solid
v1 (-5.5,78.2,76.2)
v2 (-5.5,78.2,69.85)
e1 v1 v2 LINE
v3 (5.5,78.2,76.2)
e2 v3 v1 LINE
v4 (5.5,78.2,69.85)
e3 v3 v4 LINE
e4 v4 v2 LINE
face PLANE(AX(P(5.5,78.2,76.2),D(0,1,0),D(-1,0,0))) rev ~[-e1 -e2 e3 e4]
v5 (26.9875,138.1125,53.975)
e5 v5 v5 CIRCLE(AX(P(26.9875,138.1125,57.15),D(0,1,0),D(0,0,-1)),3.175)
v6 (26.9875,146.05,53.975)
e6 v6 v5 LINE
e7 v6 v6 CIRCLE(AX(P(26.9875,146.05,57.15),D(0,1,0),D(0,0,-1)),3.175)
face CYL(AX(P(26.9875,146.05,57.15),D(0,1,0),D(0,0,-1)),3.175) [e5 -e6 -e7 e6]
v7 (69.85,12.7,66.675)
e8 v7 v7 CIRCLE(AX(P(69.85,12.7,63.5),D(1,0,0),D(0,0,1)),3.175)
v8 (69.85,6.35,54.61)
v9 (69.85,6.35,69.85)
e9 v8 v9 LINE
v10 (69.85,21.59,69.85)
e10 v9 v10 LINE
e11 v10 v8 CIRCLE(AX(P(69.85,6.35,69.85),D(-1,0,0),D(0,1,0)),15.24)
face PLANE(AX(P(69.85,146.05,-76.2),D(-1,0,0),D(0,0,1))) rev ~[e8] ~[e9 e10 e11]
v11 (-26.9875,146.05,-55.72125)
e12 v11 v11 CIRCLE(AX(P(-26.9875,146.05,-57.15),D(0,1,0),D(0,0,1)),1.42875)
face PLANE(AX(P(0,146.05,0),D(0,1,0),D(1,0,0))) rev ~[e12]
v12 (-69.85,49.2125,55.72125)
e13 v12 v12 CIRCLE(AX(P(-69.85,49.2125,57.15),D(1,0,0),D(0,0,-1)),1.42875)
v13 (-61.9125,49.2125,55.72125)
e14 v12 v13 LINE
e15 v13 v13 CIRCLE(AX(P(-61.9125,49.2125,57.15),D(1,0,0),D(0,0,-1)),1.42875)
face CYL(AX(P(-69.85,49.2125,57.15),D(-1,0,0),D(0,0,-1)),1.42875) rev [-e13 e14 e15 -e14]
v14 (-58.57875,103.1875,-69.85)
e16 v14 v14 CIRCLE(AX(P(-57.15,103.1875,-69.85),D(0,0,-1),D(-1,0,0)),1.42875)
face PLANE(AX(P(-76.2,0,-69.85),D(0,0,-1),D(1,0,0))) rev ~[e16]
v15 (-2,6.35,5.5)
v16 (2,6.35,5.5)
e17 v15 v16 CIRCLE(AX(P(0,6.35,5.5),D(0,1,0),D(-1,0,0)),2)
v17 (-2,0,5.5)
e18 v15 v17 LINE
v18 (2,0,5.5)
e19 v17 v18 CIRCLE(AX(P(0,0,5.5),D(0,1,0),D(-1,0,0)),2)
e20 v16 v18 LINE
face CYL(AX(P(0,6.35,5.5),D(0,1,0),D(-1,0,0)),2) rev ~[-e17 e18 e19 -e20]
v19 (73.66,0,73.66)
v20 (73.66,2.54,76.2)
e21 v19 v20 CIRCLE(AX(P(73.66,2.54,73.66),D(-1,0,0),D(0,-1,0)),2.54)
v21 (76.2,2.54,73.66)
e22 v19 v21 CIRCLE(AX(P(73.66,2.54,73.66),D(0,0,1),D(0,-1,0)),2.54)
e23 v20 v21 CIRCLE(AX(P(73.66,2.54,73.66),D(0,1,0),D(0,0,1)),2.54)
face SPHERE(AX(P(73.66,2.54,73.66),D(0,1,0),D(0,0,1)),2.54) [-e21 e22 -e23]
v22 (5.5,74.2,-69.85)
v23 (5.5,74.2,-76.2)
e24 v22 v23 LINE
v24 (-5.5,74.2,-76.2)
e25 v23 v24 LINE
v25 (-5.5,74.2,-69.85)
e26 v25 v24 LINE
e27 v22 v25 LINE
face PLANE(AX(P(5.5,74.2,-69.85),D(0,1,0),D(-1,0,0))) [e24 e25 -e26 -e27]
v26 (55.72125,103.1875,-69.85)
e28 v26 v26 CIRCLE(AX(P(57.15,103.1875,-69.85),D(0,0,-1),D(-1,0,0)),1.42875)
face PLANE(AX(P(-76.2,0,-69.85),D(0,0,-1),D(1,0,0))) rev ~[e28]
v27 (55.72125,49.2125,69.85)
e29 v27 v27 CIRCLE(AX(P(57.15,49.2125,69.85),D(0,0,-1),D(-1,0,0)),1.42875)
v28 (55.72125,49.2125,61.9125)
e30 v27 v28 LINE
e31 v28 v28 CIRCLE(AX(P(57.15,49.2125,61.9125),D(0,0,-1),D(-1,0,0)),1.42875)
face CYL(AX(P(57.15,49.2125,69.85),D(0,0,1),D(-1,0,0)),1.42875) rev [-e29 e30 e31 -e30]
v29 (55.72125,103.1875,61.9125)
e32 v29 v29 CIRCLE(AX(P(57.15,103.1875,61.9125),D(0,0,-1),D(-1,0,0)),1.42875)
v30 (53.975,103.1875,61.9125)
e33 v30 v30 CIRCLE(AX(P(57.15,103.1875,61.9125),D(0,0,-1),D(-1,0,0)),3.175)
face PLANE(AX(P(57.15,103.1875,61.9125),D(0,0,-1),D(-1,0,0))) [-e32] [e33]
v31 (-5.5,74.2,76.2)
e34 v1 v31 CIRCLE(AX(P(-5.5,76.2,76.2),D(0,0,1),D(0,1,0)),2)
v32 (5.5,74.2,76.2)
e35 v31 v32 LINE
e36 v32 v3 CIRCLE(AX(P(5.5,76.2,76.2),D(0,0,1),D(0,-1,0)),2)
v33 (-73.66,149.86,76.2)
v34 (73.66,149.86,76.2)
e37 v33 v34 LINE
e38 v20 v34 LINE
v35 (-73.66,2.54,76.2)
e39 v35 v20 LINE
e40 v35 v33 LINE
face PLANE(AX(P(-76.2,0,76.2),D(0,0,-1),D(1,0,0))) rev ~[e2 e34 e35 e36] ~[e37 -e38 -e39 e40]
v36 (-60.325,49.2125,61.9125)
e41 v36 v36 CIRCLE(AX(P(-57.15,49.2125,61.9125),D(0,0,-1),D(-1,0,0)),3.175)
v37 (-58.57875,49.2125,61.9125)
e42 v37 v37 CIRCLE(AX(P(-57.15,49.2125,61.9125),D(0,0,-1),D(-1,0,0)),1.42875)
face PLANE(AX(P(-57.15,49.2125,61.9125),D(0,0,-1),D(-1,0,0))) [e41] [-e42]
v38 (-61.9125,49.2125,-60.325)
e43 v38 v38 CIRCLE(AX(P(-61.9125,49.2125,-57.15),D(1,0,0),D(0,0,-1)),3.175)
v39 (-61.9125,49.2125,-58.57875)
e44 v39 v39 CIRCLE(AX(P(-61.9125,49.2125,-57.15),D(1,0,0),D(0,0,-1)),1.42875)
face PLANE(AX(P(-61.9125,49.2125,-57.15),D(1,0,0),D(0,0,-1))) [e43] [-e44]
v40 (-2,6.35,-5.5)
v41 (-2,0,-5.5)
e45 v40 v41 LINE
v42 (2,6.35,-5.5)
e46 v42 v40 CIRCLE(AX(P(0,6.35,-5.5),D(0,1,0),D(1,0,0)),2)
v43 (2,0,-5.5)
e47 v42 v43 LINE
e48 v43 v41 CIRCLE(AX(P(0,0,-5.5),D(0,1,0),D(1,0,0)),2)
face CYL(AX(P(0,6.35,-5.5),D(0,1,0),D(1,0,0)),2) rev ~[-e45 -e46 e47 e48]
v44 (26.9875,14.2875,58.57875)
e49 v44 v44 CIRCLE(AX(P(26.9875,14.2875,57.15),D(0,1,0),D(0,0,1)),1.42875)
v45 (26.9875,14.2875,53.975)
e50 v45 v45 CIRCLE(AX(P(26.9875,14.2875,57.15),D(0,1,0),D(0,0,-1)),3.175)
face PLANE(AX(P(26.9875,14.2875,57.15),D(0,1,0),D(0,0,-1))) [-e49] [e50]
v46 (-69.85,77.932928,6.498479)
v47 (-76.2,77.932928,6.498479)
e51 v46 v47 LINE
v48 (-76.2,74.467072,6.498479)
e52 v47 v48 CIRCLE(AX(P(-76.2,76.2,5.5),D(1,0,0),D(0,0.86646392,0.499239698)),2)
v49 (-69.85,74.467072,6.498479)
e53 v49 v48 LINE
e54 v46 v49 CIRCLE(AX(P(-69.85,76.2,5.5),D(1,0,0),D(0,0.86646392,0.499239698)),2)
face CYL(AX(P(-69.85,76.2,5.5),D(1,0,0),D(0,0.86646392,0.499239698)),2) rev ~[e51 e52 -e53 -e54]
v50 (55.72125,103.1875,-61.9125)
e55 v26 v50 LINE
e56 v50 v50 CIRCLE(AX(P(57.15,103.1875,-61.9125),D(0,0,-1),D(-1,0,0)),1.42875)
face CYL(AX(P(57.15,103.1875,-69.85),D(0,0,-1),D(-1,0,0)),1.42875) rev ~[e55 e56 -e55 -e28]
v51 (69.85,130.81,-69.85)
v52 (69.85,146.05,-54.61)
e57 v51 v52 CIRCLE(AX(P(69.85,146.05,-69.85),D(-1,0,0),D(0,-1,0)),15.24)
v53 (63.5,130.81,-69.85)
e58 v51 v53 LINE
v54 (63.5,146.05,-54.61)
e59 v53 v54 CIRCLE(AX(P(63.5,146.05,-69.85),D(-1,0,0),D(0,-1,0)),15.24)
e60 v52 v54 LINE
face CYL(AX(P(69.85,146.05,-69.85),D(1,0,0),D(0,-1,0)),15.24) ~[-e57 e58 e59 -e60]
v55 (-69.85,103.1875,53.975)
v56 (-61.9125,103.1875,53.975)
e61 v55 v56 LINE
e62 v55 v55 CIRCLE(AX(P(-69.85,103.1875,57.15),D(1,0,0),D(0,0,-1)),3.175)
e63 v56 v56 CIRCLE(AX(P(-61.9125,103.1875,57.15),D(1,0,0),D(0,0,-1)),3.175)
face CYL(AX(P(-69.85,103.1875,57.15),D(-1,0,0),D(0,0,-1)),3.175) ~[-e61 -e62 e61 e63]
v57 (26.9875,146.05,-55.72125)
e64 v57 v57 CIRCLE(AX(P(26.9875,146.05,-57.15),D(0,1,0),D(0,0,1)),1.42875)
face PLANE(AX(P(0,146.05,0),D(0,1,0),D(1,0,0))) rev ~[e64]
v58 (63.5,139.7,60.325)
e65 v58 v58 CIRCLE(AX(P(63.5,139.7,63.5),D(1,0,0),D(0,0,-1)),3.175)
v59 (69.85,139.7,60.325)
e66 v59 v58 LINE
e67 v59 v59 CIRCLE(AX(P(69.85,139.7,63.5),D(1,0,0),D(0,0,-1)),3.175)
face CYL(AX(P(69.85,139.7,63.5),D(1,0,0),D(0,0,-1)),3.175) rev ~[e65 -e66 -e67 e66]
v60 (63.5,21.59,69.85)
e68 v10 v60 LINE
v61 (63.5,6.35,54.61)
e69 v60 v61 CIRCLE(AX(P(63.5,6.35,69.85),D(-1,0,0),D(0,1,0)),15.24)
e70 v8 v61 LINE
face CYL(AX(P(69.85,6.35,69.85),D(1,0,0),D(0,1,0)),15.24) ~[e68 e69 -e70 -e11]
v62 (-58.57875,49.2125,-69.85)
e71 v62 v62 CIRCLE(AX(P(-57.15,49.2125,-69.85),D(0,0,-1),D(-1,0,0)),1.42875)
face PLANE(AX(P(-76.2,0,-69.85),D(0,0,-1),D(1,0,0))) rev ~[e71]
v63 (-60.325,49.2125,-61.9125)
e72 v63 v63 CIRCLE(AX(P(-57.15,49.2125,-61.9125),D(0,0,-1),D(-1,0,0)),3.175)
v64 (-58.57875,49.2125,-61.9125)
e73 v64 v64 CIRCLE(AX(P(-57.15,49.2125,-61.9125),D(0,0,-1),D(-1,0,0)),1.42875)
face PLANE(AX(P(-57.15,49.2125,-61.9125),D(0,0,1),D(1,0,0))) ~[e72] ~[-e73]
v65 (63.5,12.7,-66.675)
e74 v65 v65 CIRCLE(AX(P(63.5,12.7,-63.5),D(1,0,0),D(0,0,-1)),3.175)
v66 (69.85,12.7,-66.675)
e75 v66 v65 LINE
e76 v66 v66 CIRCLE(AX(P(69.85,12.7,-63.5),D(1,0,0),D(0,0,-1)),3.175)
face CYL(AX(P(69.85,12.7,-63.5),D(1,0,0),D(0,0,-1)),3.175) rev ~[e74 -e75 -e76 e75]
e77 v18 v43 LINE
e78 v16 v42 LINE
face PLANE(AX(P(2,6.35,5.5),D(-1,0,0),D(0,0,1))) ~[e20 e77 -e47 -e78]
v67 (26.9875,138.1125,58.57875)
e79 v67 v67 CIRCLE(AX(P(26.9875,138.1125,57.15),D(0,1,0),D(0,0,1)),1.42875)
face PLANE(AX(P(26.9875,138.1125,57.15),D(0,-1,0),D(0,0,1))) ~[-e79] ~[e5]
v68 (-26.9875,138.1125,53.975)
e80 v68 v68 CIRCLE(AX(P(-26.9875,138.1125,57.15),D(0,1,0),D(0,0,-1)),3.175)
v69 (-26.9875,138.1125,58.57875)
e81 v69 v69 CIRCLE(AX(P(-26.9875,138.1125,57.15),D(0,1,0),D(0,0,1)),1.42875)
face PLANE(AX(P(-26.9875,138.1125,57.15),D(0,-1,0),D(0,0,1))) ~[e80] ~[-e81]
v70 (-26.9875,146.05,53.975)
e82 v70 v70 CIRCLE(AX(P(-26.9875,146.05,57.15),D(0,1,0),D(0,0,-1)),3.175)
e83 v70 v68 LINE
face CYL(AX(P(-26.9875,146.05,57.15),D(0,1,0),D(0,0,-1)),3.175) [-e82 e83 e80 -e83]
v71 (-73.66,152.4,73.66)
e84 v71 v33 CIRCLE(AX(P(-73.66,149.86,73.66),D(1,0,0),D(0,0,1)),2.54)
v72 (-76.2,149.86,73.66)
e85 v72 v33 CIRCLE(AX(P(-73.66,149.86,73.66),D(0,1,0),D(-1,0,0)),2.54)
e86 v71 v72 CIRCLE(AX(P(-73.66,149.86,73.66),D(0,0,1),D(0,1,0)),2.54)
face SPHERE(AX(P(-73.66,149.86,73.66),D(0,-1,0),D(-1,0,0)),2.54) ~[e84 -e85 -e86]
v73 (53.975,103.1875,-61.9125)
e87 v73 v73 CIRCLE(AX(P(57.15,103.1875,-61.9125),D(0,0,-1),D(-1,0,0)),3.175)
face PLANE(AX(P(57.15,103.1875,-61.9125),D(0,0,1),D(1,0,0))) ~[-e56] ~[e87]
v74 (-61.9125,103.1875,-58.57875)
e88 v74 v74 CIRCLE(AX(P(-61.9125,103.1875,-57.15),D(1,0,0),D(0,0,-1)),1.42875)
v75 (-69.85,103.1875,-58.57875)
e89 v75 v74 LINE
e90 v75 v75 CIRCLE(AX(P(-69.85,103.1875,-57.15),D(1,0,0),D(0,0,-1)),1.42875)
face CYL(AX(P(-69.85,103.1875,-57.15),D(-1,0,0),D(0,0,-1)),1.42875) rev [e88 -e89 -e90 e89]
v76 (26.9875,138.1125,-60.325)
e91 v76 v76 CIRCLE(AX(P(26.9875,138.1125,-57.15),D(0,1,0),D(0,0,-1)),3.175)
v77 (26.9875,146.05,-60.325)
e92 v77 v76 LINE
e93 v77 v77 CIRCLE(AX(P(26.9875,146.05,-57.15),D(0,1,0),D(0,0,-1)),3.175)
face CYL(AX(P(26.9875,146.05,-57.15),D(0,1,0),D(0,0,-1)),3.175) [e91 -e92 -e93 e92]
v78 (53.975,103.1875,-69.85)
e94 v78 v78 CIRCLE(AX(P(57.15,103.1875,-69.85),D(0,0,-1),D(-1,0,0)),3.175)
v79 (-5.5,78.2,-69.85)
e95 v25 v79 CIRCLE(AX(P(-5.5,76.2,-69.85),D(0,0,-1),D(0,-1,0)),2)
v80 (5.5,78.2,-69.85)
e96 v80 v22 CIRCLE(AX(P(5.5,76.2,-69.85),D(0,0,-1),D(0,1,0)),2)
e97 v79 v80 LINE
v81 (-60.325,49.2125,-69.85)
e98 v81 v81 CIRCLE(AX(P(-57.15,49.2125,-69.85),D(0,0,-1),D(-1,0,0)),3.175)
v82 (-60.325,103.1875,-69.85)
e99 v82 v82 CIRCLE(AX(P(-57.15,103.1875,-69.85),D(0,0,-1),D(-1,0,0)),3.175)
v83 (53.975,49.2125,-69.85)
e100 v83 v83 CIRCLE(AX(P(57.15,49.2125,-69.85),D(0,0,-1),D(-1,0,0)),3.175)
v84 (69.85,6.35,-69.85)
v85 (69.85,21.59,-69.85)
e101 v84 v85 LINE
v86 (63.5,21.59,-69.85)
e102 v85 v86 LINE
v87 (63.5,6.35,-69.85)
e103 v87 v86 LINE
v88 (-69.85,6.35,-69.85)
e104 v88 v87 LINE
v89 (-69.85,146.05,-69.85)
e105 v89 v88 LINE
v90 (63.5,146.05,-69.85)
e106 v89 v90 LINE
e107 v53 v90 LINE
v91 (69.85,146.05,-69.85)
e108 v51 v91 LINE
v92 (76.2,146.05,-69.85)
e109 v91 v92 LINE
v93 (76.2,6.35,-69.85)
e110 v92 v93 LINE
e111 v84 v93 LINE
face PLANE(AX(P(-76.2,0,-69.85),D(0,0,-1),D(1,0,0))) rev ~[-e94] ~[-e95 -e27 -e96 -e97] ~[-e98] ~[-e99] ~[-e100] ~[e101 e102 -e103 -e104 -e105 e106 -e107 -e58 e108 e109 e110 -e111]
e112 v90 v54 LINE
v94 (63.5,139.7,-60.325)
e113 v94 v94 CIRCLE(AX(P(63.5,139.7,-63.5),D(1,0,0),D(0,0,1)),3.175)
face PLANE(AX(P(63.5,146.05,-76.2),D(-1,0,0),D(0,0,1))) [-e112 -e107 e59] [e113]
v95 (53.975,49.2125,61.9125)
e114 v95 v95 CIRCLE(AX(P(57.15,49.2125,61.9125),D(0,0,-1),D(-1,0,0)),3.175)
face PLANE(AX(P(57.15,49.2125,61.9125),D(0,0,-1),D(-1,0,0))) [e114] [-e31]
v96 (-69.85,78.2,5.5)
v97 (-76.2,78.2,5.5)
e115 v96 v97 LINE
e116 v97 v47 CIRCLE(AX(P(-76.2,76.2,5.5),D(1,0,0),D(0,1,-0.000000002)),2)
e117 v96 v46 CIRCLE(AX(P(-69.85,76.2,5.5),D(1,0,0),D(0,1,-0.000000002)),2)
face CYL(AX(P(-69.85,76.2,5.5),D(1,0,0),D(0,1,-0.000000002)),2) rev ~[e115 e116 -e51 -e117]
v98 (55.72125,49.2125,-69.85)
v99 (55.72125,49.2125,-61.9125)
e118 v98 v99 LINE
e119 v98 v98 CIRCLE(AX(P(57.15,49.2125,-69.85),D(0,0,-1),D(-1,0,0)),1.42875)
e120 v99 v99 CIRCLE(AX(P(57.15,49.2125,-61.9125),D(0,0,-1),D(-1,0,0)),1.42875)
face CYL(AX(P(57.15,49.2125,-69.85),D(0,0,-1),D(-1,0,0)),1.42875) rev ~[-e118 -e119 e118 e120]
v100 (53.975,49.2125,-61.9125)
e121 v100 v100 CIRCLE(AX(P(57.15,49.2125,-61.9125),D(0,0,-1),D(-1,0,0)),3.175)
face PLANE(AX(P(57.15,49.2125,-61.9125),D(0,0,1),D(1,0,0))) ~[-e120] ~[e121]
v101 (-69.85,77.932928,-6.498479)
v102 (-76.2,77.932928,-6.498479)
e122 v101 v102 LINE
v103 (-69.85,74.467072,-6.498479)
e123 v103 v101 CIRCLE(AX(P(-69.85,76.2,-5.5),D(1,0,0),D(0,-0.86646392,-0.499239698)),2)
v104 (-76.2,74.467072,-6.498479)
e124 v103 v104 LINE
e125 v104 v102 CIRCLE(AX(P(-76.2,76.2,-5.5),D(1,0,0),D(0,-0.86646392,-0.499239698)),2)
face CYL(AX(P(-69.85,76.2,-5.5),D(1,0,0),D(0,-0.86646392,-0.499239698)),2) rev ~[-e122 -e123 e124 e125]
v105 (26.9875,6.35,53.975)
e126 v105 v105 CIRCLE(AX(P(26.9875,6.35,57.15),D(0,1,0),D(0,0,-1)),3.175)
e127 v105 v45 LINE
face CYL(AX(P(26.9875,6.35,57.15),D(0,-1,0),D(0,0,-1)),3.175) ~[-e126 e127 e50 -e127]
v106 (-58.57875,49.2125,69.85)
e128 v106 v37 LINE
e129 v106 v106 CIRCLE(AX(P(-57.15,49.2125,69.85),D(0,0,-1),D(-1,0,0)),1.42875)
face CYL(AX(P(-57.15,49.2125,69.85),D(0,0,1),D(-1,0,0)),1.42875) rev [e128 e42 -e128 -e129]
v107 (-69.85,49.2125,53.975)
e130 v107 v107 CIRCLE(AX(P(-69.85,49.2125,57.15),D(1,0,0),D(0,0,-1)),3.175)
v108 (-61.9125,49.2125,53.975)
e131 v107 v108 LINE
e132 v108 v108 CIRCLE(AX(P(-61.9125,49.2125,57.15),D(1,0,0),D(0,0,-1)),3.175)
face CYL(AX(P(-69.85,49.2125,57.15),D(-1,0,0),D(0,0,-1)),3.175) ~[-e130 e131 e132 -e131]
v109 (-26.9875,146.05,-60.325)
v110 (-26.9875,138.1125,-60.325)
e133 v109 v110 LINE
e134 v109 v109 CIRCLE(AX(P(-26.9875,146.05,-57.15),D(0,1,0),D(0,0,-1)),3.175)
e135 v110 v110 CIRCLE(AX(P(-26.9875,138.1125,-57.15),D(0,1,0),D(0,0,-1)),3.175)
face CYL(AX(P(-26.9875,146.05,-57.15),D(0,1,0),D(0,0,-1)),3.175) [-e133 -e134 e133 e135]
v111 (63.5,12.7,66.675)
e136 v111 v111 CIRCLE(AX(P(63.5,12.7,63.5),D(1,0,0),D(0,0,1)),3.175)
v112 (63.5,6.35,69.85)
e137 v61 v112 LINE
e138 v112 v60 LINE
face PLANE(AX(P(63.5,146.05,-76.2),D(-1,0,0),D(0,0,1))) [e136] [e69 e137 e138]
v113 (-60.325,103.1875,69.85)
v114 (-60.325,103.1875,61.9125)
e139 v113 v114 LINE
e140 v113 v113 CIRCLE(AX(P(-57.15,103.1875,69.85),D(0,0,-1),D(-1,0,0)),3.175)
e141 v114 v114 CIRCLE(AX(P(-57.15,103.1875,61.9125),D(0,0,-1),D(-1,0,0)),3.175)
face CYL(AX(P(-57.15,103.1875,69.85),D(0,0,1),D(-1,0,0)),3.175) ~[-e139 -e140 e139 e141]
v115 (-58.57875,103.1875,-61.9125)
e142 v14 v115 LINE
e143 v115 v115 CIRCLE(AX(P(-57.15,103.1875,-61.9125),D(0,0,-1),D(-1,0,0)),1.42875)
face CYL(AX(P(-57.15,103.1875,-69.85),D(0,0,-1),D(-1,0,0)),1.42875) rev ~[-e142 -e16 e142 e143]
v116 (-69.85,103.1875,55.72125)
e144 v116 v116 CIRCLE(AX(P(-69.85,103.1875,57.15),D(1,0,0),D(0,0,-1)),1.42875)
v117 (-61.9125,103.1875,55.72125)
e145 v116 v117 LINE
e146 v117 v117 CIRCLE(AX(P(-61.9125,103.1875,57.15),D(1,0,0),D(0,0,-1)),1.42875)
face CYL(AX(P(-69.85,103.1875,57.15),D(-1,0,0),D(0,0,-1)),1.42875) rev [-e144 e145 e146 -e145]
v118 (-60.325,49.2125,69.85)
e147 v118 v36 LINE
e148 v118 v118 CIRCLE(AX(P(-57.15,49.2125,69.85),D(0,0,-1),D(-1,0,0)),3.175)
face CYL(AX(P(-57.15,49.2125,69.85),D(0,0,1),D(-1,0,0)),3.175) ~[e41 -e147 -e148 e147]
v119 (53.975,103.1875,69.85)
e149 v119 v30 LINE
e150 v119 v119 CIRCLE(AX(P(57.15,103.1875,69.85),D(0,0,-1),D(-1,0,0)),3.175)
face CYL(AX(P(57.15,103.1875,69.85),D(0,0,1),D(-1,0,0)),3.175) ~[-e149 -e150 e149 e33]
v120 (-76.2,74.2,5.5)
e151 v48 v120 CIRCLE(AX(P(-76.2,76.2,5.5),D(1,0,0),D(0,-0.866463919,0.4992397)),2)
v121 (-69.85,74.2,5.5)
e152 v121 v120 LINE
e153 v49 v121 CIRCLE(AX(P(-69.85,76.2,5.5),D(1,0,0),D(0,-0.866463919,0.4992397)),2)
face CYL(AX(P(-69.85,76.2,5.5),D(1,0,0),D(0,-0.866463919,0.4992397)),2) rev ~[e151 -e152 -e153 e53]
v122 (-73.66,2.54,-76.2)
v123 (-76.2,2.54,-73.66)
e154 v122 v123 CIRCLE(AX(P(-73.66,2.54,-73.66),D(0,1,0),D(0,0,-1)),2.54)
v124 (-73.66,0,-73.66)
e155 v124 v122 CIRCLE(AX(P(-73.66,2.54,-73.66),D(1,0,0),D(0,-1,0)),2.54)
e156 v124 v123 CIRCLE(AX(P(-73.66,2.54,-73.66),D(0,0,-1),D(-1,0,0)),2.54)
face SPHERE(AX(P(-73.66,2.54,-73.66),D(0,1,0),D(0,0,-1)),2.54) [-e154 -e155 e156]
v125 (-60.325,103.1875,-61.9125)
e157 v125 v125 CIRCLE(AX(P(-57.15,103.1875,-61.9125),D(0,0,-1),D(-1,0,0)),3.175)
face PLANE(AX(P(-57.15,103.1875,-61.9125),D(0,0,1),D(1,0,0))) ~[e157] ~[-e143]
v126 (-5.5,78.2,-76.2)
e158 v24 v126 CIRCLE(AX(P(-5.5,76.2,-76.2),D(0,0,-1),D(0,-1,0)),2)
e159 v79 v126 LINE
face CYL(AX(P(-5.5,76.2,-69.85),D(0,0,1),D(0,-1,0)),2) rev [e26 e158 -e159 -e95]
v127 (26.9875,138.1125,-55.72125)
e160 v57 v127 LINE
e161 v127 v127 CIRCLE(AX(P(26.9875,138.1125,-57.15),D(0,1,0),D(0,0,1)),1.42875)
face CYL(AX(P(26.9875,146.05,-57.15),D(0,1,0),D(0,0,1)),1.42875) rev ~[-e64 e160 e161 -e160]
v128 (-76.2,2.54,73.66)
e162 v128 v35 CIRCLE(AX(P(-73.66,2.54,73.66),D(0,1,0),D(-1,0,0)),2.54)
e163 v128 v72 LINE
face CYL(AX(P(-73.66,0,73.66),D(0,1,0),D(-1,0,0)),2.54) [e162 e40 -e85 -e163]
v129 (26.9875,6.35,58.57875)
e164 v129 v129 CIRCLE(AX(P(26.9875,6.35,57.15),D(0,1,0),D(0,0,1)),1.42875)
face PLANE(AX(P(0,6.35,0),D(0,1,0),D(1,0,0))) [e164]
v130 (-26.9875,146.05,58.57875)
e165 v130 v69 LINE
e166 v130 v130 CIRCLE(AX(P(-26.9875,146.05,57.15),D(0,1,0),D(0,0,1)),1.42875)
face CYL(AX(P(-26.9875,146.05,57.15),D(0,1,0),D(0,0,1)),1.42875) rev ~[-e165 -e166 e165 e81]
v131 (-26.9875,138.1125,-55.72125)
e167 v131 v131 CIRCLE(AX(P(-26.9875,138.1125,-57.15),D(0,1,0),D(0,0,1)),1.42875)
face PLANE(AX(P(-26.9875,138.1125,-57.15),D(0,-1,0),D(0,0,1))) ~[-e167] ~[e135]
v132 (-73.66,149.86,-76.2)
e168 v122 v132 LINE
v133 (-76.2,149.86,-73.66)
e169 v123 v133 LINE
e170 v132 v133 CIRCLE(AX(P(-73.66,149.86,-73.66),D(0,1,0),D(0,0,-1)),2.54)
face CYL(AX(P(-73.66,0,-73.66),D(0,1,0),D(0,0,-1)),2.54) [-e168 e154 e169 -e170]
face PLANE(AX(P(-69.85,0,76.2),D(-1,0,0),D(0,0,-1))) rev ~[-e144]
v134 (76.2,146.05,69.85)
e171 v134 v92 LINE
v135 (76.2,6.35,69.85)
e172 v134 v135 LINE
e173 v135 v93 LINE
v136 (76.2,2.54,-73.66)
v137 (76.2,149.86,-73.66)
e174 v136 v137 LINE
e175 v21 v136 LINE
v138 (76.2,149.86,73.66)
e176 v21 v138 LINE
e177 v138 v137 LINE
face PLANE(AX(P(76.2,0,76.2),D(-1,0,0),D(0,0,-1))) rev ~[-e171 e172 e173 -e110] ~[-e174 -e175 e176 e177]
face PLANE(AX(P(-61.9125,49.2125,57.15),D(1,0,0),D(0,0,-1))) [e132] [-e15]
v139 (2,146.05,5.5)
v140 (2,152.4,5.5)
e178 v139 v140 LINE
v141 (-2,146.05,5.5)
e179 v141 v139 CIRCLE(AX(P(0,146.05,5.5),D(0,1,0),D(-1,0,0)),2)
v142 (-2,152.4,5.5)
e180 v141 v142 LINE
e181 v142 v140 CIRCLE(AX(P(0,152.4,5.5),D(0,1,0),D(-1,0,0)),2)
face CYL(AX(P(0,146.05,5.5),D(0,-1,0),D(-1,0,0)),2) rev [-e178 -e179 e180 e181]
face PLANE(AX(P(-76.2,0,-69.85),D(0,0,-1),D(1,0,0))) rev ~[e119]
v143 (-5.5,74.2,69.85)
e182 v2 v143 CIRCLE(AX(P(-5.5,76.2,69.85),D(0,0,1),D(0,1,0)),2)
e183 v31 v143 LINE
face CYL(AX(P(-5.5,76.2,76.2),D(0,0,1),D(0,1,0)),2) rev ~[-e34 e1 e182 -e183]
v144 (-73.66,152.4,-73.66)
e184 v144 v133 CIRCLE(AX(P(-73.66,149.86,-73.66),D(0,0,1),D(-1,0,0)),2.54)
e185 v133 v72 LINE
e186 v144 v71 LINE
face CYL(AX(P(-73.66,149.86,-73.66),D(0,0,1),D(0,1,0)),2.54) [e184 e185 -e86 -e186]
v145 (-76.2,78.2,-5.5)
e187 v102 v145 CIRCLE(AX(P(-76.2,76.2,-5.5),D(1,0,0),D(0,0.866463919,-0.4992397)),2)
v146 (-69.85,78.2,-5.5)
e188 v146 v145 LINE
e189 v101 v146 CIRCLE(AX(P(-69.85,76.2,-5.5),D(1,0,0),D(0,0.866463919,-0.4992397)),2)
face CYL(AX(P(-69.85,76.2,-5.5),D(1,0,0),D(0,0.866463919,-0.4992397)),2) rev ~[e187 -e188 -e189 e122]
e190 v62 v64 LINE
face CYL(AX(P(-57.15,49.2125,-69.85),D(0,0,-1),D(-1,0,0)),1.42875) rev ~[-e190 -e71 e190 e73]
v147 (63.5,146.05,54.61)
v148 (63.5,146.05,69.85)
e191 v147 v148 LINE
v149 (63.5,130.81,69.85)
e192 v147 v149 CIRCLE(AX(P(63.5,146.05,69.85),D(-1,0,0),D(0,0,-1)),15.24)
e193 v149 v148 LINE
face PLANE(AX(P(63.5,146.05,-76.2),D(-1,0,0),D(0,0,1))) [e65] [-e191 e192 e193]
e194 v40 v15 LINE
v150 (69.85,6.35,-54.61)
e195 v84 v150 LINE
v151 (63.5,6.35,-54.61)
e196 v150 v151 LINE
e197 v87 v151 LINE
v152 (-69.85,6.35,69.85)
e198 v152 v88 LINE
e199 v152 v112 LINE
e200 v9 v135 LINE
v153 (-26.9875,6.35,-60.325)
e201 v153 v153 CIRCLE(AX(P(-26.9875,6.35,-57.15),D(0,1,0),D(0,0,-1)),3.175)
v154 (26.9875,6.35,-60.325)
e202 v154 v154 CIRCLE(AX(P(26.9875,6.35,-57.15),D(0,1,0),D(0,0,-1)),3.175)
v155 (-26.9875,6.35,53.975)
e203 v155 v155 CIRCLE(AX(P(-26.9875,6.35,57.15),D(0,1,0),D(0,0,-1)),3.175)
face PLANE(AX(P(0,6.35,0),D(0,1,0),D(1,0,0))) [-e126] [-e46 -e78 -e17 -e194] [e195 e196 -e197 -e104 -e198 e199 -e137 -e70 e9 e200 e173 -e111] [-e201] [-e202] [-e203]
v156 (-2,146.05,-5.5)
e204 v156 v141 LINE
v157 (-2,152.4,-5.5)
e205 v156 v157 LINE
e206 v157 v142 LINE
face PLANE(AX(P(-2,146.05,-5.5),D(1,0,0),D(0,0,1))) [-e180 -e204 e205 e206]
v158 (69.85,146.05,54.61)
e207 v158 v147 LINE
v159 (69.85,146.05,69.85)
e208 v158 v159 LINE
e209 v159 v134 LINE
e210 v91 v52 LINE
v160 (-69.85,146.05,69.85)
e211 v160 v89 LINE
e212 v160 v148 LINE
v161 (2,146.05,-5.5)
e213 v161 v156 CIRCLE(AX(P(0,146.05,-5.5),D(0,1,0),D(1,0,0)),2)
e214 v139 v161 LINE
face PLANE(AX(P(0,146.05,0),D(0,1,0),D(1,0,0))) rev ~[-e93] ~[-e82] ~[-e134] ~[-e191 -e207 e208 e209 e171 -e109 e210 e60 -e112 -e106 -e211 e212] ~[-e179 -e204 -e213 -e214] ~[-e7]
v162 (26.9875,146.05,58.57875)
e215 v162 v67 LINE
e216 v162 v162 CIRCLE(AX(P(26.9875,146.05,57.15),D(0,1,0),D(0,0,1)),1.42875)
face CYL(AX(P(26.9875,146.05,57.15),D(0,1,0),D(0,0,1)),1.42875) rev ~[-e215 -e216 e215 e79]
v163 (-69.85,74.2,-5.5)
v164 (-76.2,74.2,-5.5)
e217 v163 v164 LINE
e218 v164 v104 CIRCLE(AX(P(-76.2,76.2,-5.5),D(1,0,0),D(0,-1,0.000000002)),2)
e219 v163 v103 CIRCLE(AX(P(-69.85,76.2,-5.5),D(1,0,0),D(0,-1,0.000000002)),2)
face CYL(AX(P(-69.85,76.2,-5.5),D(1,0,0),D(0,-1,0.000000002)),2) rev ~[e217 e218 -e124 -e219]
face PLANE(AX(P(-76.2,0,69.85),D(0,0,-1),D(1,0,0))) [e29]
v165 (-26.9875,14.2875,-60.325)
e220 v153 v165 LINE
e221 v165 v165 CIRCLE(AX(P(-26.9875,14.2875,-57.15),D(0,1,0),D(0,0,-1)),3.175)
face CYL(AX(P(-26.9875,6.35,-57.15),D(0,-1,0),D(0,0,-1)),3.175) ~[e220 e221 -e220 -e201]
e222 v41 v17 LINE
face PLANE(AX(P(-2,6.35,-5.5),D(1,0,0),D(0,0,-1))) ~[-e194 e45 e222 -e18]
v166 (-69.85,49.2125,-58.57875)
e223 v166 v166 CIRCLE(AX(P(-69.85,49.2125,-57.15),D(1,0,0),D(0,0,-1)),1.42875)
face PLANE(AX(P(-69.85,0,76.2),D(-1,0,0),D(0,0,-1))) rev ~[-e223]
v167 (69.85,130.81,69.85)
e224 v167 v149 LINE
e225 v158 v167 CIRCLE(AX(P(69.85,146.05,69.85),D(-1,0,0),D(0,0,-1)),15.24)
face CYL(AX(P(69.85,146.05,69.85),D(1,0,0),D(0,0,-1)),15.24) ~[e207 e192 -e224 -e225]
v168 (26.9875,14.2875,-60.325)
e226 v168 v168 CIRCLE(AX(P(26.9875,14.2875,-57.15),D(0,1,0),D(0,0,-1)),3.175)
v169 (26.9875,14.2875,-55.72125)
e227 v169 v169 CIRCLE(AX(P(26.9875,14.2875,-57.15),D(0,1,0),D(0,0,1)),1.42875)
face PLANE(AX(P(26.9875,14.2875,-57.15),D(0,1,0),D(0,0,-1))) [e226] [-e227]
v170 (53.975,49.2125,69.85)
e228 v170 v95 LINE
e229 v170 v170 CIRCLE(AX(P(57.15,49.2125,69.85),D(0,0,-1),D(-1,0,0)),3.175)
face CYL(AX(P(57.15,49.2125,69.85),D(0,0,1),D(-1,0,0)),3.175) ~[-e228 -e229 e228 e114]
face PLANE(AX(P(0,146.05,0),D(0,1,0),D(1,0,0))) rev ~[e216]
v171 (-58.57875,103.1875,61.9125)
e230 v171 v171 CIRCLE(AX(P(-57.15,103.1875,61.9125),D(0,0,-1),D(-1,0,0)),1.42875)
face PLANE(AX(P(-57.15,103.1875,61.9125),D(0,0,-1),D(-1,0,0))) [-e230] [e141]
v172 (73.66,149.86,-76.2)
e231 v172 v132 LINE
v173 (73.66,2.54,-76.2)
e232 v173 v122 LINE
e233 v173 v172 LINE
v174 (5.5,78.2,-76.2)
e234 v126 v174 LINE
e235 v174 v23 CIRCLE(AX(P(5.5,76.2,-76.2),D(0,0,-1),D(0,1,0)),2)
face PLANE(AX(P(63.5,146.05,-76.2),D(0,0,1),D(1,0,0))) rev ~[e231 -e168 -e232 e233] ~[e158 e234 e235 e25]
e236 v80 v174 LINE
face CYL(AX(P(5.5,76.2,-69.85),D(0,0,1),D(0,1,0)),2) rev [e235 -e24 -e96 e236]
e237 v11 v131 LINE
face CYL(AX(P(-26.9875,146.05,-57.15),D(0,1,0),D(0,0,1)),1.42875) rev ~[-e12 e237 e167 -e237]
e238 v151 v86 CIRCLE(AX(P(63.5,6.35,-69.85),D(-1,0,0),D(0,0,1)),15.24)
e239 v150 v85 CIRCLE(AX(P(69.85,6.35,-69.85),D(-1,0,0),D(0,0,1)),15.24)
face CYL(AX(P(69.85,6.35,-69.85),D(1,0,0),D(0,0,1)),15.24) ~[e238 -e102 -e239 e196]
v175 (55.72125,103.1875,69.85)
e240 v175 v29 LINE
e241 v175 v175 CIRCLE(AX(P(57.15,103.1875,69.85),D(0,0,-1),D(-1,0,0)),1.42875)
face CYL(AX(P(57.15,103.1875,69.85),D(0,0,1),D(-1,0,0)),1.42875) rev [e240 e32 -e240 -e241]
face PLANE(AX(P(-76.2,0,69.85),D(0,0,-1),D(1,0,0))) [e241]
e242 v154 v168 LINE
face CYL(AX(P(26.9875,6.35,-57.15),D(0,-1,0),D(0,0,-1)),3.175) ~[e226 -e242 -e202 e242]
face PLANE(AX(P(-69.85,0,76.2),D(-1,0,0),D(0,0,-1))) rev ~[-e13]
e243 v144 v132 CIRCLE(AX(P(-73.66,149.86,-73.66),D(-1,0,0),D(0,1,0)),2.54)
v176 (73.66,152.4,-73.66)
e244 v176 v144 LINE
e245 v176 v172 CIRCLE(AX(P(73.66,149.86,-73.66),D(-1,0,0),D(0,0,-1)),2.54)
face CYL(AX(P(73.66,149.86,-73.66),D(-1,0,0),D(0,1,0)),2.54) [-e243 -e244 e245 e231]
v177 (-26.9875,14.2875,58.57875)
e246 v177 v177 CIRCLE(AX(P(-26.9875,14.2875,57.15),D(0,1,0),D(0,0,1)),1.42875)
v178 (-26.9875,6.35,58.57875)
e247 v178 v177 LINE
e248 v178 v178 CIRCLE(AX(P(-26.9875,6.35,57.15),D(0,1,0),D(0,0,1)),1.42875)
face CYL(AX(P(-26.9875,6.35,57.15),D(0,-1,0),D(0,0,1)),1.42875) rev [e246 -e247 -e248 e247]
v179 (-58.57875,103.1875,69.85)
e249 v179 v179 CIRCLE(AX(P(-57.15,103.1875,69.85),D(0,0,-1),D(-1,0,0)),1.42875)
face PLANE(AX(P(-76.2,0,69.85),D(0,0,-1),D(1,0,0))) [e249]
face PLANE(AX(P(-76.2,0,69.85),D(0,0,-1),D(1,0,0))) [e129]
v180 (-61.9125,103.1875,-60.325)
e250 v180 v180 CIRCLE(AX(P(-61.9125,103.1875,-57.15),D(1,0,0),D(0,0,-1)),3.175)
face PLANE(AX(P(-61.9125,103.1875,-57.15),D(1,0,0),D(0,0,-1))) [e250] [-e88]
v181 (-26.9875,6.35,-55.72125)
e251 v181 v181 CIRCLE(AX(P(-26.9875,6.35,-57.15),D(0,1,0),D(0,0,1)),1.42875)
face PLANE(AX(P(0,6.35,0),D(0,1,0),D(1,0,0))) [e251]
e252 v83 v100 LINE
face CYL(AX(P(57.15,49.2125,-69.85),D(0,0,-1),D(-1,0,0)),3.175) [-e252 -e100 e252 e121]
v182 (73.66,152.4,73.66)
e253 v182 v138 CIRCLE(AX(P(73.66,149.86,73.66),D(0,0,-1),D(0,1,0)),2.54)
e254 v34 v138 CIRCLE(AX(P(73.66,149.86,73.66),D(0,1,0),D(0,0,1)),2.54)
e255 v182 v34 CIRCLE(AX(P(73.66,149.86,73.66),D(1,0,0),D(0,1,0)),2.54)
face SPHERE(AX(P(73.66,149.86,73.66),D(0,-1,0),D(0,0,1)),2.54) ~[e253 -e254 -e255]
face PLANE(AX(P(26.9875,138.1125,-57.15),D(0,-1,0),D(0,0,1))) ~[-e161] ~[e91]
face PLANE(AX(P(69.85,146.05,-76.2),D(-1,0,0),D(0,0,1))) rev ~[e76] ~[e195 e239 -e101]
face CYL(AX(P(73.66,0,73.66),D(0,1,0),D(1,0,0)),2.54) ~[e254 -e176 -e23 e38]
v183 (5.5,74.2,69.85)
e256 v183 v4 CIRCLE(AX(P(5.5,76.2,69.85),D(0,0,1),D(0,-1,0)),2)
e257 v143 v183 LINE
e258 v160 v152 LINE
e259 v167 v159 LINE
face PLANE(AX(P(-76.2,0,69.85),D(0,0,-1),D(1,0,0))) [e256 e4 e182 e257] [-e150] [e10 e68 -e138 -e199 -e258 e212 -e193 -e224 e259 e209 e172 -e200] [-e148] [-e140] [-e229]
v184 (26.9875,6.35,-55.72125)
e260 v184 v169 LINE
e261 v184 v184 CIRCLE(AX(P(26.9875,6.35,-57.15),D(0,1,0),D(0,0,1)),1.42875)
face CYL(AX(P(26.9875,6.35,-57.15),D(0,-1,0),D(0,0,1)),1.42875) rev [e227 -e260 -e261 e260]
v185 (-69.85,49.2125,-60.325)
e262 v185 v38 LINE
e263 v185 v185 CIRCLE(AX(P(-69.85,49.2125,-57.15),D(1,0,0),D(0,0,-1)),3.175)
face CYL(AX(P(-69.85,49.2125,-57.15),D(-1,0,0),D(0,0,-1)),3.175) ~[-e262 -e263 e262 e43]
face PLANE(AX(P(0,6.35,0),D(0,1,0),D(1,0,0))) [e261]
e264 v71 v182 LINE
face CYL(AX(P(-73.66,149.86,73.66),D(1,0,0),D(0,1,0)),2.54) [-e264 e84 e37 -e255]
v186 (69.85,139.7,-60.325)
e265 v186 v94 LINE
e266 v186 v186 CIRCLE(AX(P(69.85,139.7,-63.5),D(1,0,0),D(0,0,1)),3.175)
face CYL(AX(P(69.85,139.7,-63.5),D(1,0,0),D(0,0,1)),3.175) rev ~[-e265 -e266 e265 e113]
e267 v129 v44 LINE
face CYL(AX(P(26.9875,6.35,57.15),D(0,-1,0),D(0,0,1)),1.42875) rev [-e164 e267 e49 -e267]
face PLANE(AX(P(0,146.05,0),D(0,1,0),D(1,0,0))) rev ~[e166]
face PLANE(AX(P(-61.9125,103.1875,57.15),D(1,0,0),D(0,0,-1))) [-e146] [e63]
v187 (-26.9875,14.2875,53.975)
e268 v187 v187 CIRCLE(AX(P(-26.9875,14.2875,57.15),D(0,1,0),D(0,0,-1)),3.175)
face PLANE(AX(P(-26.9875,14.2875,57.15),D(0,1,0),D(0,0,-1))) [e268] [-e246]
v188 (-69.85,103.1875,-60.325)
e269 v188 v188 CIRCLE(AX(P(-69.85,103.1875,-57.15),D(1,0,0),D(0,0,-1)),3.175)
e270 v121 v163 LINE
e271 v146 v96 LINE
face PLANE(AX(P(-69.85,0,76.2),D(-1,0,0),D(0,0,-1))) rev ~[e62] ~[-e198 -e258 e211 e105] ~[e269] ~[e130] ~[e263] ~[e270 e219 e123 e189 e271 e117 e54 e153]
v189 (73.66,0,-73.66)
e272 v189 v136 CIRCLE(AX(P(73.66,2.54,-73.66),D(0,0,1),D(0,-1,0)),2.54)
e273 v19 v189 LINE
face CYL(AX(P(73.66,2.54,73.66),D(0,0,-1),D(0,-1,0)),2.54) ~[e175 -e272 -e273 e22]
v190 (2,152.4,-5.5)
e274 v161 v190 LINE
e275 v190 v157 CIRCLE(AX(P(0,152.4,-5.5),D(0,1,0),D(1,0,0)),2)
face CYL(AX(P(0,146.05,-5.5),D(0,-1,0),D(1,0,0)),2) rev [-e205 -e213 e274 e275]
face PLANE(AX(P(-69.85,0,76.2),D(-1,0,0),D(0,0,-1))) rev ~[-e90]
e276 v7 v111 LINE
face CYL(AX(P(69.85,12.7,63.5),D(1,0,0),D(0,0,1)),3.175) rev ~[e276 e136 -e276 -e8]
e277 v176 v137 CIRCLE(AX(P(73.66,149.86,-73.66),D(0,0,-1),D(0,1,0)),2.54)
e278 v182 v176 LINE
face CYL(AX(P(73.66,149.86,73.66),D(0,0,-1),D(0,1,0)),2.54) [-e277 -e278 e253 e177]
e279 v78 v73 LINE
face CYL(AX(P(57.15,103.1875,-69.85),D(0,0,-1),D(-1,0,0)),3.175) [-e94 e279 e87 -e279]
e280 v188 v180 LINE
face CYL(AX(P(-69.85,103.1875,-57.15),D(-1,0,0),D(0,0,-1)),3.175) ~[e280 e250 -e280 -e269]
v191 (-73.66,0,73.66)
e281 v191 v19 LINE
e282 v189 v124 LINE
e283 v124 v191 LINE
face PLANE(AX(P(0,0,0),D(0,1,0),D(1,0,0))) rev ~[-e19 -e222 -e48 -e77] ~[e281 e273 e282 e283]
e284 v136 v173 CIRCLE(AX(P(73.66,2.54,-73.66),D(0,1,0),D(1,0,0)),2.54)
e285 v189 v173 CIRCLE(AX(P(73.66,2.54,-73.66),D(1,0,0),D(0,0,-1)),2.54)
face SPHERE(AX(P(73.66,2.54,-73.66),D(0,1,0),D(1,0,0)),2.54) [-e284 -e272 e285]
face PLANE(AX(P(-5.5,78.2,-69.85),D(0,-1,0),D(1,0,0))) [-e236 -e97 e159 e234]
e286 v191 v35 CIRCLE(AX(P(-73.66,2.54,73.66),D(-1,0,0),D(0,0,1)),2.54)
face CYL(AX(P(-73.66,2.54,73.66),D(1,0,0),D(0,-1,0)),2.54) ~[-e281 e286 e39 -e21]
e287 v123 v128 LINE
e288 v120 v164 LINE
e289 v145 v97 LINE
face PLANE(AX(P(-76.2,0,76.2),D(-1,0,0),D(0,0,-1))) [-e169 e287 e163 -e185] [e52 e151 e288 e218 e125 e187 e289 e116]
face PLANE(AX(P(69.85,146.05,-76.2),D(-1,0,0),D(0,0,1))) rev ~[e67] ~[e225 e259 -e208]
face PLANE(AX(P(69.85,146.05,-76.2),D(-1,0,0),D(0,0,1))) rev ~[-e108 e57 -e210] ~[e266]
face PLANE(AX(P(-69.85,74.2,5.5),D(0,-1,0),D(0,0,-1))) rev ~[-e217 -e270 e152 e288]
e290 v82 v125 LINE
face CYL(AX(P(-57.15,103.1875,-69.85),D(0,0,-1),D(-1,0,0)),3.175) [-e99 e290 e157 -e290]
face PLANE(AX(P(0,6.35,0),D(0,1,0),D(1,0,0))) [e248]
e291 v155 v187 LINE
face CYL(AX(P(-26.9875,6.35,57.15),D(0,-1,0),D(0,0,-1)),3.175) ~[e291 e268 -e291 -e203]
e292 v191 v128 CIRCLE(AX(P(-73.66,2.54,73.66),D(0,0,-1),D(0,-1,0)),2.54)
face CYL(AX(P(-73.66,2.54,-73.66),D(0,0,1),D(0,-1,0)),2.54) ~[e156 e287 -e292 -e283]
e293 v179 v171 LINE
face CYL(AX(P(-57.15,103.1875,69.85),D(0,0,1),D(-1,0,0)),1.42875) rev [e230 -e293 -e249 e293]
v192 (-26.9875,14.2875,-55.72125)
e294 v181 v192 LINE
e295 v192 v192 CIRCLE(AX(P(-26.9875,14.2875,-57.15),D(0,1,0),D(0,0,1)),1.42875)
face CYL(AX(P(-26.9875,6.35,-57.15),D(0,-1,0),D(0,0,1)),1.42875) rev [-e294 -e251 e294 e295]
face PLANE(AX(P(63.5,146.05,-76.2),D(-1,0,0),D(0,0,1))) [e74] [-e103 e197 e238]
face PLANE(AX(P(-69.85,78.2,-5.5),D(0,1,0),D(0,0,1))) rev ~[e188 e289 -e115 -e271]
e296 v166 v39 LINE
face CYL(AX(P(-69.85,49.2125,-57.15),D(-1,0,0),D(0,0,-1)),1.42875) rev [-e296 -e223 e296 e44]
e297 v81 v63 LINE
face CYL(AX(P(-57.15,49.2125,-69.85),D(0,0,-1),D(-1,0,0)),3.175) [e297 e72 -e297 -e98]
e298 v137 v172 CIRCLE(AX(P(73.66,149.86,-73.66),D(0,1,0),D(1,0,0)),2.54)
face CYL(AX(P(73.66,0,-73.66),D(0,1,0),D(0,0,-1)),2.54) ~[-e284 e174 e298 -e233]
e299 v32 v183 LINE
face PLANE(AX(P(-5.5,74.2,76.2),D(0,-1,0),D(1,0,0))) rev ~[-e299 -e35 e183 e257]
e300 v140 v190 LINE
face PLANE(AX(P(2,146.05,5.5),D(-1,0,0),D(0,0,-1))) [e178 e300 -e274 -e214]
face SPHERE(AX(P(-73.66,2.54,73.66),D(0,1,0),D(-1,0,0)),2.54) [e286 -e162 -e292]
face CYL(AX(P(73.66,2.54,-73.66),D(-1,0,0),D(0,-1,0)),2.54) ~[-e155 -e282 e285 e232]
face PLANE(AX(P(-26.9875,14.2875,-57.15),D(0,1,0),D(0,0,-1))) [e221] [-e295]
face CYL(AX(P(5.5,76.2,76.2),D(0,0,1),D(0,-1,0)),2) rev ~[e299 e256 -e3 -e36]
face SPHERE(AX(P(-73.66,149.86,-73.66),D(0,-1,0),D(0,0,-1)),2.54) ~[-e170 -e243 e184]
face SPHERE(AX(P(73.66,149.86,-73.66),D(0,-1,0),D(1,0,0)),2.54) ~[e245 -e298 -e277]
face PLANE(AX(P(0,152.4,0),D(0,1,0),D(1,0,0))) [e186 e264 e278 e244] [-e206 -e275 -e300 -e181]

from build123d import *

# Parameters (mm, degrees)
SKETCH1_W           = 152.4
SKETCH1_H           = 152.4
BOSS_EXTRUDE1_DEPTH = 152.4
SHELL2_T            = -6.35
CUT_EXTRUDE3_DEPTH  = 6.35
CUT_EXTRUDE4_DEPTH  = 6.35
CUT_EXTRUDE5_START  = -6.35
CUT_EXTRUDE5_DEPTH  = 6.35
CUT_EXTRUDE6_DEPTH  = 6.35
SKETCH6_W           = 6.35
SKETCH6_H           = 152.4
BOSS_EXTRUDE2_DEPTH = 139.7
CUT_EXTRUDE7_DEPTH  = 6.35
SKETCH8_R           = 3.175
CUT_EXTRUDE8_DEPTH  = 6.35
SKETCH10_R          = 3.175
SKETCH10_R_2        = 1.42875
BOSS_EXTRUDE3_DEPTH = 7.9375
SKETCH11_R          = 3.175
SKETCH11_R_2        = 1.42875
BOSS_EXTRUDE4_DEPTH = 7.9375
SKETCH15_R          = 3.175
SKETCH15_R_2        = 1.42875
BOSS_EXTRUDE5_DEPTH = 7.9375
FILLET1_R           = 2.54
FILLET2_R           = 2.54


with BuildPart() as part:
    # Sketch1 → Boss-Extrude1 (new body)
    with BuildSketch(Plane(origin=(0, 0, 0), x_dir=(1, 0, 0), z_dir=(0, 1, 0))):
        Rectangle(SKETCH1_W, SKETCH1_H)
    extrude(amount=BOSS_EXTRUDE1_DEPTH)

    # Shell2
    shell2_openings = [part.faces().sort_by_distance(p)[0] for p in [
        (76.2, 76.2, 0),
    ]]
    offset(amount=SHELL2_T, openings=shell2_openings, kind=Kind.INTERSECTION)

    # Sketch2 → Cut-Extrude3 (cut)
    with BuildSketch(Plane(origin=(-69.85, 0, 0), x_dir=(0, 0, -1), z_dir=(1, 0, 0))):
        with BuildLine():
            Line((0, 76.2), (-6.498479396, 74.467072161))
            ThreePointArc((-6.498479396, 74.467072161), (-6.016790249, 74.267921368), (-5.5, 74.2))
            Line((-5.5, 74.2), (5.5, 74.2))
            ThreePointArc((5.5, 74.2), (6.016790249, 74.267921368), (6.498479396, 74.467072161))
            Line((6.498479396, 74.467072161), (0, 76.2))
        make_face()
        with BuildLine():
            Line((6.498479396, 77.932927839), (0, 76.2))
            Line((0, 76.2), (6.498479396, 74.467072161))
            ThreePointArc((6.498479396, 74.467072161), (7.5, 76.2), (6.498479396, 77.932927839))
        make_face()
        with BuildLine():
            Line((-6.498479396, 77.932927839), (0, 76.2))
            Line((0, 76.2), (6.498479396, 77.932927839))
            ThreePointArc((6.498479396, 77.932927839), (6.016790249, 78.132078632), (5.5, 78.2))
            Line((5.5, 78.2), (-5.5, 78.2))
            ThreePointArc((-5.5, 78.2), (-6.016790249, 78.132078632), (-6.498479396, 77.932927839))
        make_face()
        with BuildLine():
            ThreePointArc((-6.498479396, 77.932927839), (-7.5, 76.2), (-6.498479396, 74.467072161))
            Line((-6.498479396, 74.467072161), (0, 76.2))
            Line((0, 76.2), (-6.498479396, 77.932927839))
        make_face()
    extrude(amount=-CUT_EXTRUDE3_DEPTH, mode=Mode.SUBTRACT)

    # Sketch3 → Cut-Extrude4 (cut)
    with BuildSketch(Plane.XY.offset(-69.85)):
        with BuildLine():
            Line((-5.5, 78.2), (5.5, 78.2))
            ThreePointArc((5.5, 78.2), (7.5, 76.2), (5.5, 74.2))
            Line((5.5, 74.2), (-5.5, 74.2))
            ThreePointArc((-5.5, 74.2), (-7.5, 76.2), (-5.5, 78.2))
        make_face()
    extrude(amount=-CUT_EXTRUDE4_DEPTH, mode=Mode.SUBTRACT)

    # Sketch4 → Cut-Extrude5 (cut)
    with BuildSketch(Plane(origin=(0, 0, 69.85), x_dir=(-1, 0, 0), z_dir=(0, 0, -1)).offset(CUT_EXTRUDE5_START)):
        with BuildLine():
            Line((-5.5, 78.2), (5.5, 78.2))
            ThreePointArc((5.5, 78.2), (7.5, 76.2), (5.5, 74.2))
            Line((5.5, 74.2), (-5.5, 74.2))
            ThreePointArc((-5.5, 74.2), (-7.5, 76.2), (-5.5, 78.2))
        make_face()
    extrude(amount=CUT_EXTRUDE5_DEPTH, mode=Mode.SUBTRACT)

    # Sketch5 → Cut-Extrude6 (cut)
    with BuildSketch(Plane.XZ.offset(-146.05)):
        with BuildLine():
            Line((-2, -5.5), (-2, 5.5))
            ThreePointArc((-2, 5.5), (0, 7.5), (2, 5.5))
            Line((2, 5.5), (2, -5.5))
            ThreePointArc((2, -5.5), (0, -7.5), (-2, -5.5))
        make_face()
    cut_extrude6 = extrude(amount=-CUT_EXTRUDE6_DEPTH, mode=Mode.SUBTRACT)

    # Mirror1: Cut-Extrude6 across plane
    add(cut_extrude6.mirror(Plane.ZX.offset(76.2)), mode=Mode.SUBTRACT)

    # Sketch6 → Boss-Extrude2 (add)
    with BuildSketch(Plane.XZ.offset(-146.05)):
        with Locations((66.675, 0)):
            Rectangle(SKETCH6_W, SKETCH6_H)
    extrude(amount=BOSS_EXTRUDE2_DEPTH)

    # Sketch7 → Cut-Extrude7 (cut)
    with BuildSketch(Plane(origin=(69.85, 0, 0), x_dir=(0, 0, -1), z_dir=(1, 0, 0))):
        with BuildLine():
            Line((69.85, 21.59), (69.85, 130.81))
            ThreePointArc((69.85, 130.81), (59.073692655, 135.273692655), (54.61, 146.05))
            Line((54.61, 146.05), (-54.61, 146.05))
            ThreePointArc((-54.61, 146.05), (-59.073692655, 135.273692655), (-69.85, 130.81))
            Line((-69.85, 130.81), (-69.85, 21.59))
            ThreePointArc((-69.85, 21.59), (-59.073692655, 17.126307345), (-54.61, 6.35))
            Line((-54.61, 6.35), (54.61, 6.35))
            ThreePointArc((54.61, 6.35), (59.073692655, 17.126307345), (69.85, 21.59))
        make_face()
    extrude(amount=-CUT_EXTRUDE7_DEPTH, mode=Mode.SUBTRACT)

    # Sketch8 → Cut-Extrude8 (cut)
    with BuildSketch(Plane(origin=(69.85, 0, 0), x_dir=(0, 0, -1), z_dir=(1, 0, 0))):
        with Locations((63.5, 12.7)):
            Circle(SKETCH8_R)
        with Locations(Location((63.5, 139.7, 0), (0, 0, 180))):
            Circle(SKETCH8_R)
        with Locations((-63.5, 139.7)):
            Circle(SKETCH8_R)
        with Locations(Location((-63.5, 12.7, 0), (0, 0, 180))):
            Circle(SKETCH8_R)
    extrude(amount=-CUT_EXTRUDE8_DEPTH, mode=Mode.SUBTRACT)

    # Sketch10 → Boss-Extrude3 (add)
    # profile 1 of 4: a face of its own
    with BuildSketch(Plane(origin=(0, 0, 69.85), x_dir=(-1, 0, 0), z_dir=(0, 0, -1))):
        with Locations((-57.15, 103.1875)):
            Circle(SKETCH10_R)
        with Locations((-57.15, 103.1875)):
            Circle(SKETCH10_R_2, mode=Mode.SUBTRACT)
    # profile 2 of 4: a face of its own
    with BuildSketch(Plane(origin=(0, 0, 69.85), x_dir=(-1, 0, 0), z_dir=(0, 0, -1))):
        with Locations((-57.15, 49.2125)):
            Circle(SKETCH10_R)
        with Locations((-57.15, 49.2125)):
            Circle(SKETCH10_R_2, mode=Mode.SUBTRACT)
    # profile 3 of 4: a face of its own
    with BuildSketch(Plane(origin=(0, 0, 69.85), x_dir=(-1, 0, 0), z_dir=(0, 0, -1))):
        with Locations((57.15, 49.2125)):
            Circle(SKETCH10_R)
        with Locations((57.15, 49.2125)):
            Circle(SKETCH10_R_2, mode=Mode.SUBTRACT)
    # profile 4 of 4: a face of its own
    with BuildSketch(Plane(origin=(0, 0, 69.85), x_dir=(-1, 0, 0), z_dir=(0, 0, -1))):
        with Locations((57.15, 103.1875)):
            Circle(SKETCH10_R)
        with Locations((57.15, 103.1875)):
            Circle(SKETCH10_R_2, mode=Mode.SUBTRACT)
    boss_extrude3 = extrude(amount=BOSS_EXTRUDE3_DEPTH)

    # Mirror2: Boss-Extrude3 across plane
    add(boss_extrude3.mirror(Plane.XY))

    # Sketch11 → Boss-Extrude4 (add)
    # profile 1 of 4: a face of its own
    with BuildSketch(Plane(origin=(0, 6.35, 0), x_dir=(1, 0, 0), z_dir=(0, 1, 0))):
        with Locations(Location((-26.9875, -57.15, 0), (0, 0, 90))):
            Circle(SKETCH11_R)
        with Locations(Location((-26.9875, -57.15, 0), (0, 0, 270))):
            Circle(SKETCH11_R_2, mode=Mode.SUBTRACT)
    # profile 2 of 4: a face of its own
    with BuildSketch(Plane(origin=(0, 6.35, 0), x_dir=(1, 0, 0), z_dir=(0, 1, 0))):
        with Locations(Location((26.9875, -57.15, 0), (0, 0, 90))):
            Circle(SKETCH11_R)
        with Locations(Location((26.9875, -57.15, 0), (0, 0, 270))):
            Circle(SKETCH11_R_2, mode=Mode.SUBTRACT)
    # profile 3 of 4: a face of its own
    with BuildSketch(Plane(origin=(0, 6.35, 0), x_dir=(1, 0, 0), z_dir=(0, 1, 0))):
        with Locations(Location((26.9875, 57.15, 0), (0, 0, 90))):
            Circle(SKETCH11_R)
        with Locations(Location((26.9875, 57.15, 0), (0, 0, 270))):
            Circle(SKETCH11_R_2, mode=Mode.SUBTRACT)
    # profile 4 of 4: a face of its own
    with BuildSketch(Plane(origin=(0, 6.35, 0), x_dir=(1, 0, 0), z_dir=(0, 1, 0))):
        with Locations(Location((-26.9875, 57.15, 0), (0, 0, 90))):
            Circle(SKETCH11_R)
        with Locations(Location((-26.9875, 57.15, 0), (0, 0, 270))):
            Circle(SKETCH11_R_2, mode=Mode.SUBTRACT)
    boss_extrude4 = extrude(amount=BOSS_EXTRUDE4_DEPTH)

    # Mirror3: Boss-Extrude4 across plane
    add(boss_extrude4.mirror(Plane.ZX.offset(76.2)))

    # Sketch15 → Boss-Extrude5 (add)
    # profile 1 of 4: a face of its own
    with BuildSketch(Plane(origin=(-69.85, 0, 0), x_dir=(0, 0, -1), z_dir=(1, 0, 0))):
        with Locations((-57.15, 103.1875)):
            Circle(SKETCH15_R)
        with Locations((-57.15, 103.1875)):
            Circle(SKETCH15_R_2, mode=Mode.SUBTRACT)
    # profile 2 of 4: a face of its own
    with BuildSketch(Plane(origin=(-69.85, 0, 0), x_dir=(0, 0, -1), z_dir=(1, 0, 0))):
        with Locations((-57.15, 49.2125)):
            Circle(SKETCH15_R)
        with Locations((-57.15, 49.2125)):
            Circle(SKETCH15_R_2, mode=Mode.SUBTRACT)
    # profile 3 of 4: a face of its own
    with BuildSketch(Plane(origin=(-69.85, 0, 0), x_dir=(0, 0, -1), z_dir=(1, 0, 0))):
        with Locations((57.15, 49.2125)):
            Circle(SKETCH15_R)
        with Locations((57.15, 49.2125)):
            Circle(SKETCH15_R_2, mode=Mode.SUBTRACT)
    # profile 4 of 4: a face of its own
    with BuildSketch(Plane(origin=(-69.85, 0, 0), x_dir=(0, 0, -1), z_dir=(1, 0, 0))):
        with Locations((57.15, 103.1875)):
            Circle(SKETCH15_R)
        with Locations((57.15, 103.1875)):
            Circle(SKETCH15_R_2, mode=Mode.SUBTRACT)
    extrude(amount=BOSS_EXTRUDE5_DEPTH)

    # Fillet1
    fillet1_edges = [part.edges().sort_by_distance(p)[0] for p in [
        (76.2, 76.2, 76.2),
        (-76.2, 76.2, 76.2),
        (-76.2, 76.2, -76.2),
        (76.2, 76.2, -76.2),
    ]]
    fillet(fillet1_edges, radius=FILLET1_R)

    # Fillet2
    fillet2_edges = [part.edges().sort_by_distance(p)[0] for p in [
        (76.2, 0, 0),
        (76.2, 152.4, 0),
        (0, 0, 76.2),
        (-76.2, 0, 0),
        (0, 0, -76.2),
        (75.456051224, 0, -75.456051224),
        (-75.456051224, 0, -75.456051224),
        (-75.456051224, 0, 75.456051224),
        (75.456051224, 0, 75.456051224),
        (0, 152.4, 76.2),
        (0, 152.4, -76.2),
        (-76.2, 152.4, 0),
        (75.456051224, 152.4, -75.456051224),
        (-75.456051224, 152.4, -75.456051224),
        (-75.456051224, 152.4, 75.456051224),
        (75.456051224, 152.4, 75.456051224),
    ]]
    fillet(fillet2_edges, radius=FILLET2_R)


solid = part.part
